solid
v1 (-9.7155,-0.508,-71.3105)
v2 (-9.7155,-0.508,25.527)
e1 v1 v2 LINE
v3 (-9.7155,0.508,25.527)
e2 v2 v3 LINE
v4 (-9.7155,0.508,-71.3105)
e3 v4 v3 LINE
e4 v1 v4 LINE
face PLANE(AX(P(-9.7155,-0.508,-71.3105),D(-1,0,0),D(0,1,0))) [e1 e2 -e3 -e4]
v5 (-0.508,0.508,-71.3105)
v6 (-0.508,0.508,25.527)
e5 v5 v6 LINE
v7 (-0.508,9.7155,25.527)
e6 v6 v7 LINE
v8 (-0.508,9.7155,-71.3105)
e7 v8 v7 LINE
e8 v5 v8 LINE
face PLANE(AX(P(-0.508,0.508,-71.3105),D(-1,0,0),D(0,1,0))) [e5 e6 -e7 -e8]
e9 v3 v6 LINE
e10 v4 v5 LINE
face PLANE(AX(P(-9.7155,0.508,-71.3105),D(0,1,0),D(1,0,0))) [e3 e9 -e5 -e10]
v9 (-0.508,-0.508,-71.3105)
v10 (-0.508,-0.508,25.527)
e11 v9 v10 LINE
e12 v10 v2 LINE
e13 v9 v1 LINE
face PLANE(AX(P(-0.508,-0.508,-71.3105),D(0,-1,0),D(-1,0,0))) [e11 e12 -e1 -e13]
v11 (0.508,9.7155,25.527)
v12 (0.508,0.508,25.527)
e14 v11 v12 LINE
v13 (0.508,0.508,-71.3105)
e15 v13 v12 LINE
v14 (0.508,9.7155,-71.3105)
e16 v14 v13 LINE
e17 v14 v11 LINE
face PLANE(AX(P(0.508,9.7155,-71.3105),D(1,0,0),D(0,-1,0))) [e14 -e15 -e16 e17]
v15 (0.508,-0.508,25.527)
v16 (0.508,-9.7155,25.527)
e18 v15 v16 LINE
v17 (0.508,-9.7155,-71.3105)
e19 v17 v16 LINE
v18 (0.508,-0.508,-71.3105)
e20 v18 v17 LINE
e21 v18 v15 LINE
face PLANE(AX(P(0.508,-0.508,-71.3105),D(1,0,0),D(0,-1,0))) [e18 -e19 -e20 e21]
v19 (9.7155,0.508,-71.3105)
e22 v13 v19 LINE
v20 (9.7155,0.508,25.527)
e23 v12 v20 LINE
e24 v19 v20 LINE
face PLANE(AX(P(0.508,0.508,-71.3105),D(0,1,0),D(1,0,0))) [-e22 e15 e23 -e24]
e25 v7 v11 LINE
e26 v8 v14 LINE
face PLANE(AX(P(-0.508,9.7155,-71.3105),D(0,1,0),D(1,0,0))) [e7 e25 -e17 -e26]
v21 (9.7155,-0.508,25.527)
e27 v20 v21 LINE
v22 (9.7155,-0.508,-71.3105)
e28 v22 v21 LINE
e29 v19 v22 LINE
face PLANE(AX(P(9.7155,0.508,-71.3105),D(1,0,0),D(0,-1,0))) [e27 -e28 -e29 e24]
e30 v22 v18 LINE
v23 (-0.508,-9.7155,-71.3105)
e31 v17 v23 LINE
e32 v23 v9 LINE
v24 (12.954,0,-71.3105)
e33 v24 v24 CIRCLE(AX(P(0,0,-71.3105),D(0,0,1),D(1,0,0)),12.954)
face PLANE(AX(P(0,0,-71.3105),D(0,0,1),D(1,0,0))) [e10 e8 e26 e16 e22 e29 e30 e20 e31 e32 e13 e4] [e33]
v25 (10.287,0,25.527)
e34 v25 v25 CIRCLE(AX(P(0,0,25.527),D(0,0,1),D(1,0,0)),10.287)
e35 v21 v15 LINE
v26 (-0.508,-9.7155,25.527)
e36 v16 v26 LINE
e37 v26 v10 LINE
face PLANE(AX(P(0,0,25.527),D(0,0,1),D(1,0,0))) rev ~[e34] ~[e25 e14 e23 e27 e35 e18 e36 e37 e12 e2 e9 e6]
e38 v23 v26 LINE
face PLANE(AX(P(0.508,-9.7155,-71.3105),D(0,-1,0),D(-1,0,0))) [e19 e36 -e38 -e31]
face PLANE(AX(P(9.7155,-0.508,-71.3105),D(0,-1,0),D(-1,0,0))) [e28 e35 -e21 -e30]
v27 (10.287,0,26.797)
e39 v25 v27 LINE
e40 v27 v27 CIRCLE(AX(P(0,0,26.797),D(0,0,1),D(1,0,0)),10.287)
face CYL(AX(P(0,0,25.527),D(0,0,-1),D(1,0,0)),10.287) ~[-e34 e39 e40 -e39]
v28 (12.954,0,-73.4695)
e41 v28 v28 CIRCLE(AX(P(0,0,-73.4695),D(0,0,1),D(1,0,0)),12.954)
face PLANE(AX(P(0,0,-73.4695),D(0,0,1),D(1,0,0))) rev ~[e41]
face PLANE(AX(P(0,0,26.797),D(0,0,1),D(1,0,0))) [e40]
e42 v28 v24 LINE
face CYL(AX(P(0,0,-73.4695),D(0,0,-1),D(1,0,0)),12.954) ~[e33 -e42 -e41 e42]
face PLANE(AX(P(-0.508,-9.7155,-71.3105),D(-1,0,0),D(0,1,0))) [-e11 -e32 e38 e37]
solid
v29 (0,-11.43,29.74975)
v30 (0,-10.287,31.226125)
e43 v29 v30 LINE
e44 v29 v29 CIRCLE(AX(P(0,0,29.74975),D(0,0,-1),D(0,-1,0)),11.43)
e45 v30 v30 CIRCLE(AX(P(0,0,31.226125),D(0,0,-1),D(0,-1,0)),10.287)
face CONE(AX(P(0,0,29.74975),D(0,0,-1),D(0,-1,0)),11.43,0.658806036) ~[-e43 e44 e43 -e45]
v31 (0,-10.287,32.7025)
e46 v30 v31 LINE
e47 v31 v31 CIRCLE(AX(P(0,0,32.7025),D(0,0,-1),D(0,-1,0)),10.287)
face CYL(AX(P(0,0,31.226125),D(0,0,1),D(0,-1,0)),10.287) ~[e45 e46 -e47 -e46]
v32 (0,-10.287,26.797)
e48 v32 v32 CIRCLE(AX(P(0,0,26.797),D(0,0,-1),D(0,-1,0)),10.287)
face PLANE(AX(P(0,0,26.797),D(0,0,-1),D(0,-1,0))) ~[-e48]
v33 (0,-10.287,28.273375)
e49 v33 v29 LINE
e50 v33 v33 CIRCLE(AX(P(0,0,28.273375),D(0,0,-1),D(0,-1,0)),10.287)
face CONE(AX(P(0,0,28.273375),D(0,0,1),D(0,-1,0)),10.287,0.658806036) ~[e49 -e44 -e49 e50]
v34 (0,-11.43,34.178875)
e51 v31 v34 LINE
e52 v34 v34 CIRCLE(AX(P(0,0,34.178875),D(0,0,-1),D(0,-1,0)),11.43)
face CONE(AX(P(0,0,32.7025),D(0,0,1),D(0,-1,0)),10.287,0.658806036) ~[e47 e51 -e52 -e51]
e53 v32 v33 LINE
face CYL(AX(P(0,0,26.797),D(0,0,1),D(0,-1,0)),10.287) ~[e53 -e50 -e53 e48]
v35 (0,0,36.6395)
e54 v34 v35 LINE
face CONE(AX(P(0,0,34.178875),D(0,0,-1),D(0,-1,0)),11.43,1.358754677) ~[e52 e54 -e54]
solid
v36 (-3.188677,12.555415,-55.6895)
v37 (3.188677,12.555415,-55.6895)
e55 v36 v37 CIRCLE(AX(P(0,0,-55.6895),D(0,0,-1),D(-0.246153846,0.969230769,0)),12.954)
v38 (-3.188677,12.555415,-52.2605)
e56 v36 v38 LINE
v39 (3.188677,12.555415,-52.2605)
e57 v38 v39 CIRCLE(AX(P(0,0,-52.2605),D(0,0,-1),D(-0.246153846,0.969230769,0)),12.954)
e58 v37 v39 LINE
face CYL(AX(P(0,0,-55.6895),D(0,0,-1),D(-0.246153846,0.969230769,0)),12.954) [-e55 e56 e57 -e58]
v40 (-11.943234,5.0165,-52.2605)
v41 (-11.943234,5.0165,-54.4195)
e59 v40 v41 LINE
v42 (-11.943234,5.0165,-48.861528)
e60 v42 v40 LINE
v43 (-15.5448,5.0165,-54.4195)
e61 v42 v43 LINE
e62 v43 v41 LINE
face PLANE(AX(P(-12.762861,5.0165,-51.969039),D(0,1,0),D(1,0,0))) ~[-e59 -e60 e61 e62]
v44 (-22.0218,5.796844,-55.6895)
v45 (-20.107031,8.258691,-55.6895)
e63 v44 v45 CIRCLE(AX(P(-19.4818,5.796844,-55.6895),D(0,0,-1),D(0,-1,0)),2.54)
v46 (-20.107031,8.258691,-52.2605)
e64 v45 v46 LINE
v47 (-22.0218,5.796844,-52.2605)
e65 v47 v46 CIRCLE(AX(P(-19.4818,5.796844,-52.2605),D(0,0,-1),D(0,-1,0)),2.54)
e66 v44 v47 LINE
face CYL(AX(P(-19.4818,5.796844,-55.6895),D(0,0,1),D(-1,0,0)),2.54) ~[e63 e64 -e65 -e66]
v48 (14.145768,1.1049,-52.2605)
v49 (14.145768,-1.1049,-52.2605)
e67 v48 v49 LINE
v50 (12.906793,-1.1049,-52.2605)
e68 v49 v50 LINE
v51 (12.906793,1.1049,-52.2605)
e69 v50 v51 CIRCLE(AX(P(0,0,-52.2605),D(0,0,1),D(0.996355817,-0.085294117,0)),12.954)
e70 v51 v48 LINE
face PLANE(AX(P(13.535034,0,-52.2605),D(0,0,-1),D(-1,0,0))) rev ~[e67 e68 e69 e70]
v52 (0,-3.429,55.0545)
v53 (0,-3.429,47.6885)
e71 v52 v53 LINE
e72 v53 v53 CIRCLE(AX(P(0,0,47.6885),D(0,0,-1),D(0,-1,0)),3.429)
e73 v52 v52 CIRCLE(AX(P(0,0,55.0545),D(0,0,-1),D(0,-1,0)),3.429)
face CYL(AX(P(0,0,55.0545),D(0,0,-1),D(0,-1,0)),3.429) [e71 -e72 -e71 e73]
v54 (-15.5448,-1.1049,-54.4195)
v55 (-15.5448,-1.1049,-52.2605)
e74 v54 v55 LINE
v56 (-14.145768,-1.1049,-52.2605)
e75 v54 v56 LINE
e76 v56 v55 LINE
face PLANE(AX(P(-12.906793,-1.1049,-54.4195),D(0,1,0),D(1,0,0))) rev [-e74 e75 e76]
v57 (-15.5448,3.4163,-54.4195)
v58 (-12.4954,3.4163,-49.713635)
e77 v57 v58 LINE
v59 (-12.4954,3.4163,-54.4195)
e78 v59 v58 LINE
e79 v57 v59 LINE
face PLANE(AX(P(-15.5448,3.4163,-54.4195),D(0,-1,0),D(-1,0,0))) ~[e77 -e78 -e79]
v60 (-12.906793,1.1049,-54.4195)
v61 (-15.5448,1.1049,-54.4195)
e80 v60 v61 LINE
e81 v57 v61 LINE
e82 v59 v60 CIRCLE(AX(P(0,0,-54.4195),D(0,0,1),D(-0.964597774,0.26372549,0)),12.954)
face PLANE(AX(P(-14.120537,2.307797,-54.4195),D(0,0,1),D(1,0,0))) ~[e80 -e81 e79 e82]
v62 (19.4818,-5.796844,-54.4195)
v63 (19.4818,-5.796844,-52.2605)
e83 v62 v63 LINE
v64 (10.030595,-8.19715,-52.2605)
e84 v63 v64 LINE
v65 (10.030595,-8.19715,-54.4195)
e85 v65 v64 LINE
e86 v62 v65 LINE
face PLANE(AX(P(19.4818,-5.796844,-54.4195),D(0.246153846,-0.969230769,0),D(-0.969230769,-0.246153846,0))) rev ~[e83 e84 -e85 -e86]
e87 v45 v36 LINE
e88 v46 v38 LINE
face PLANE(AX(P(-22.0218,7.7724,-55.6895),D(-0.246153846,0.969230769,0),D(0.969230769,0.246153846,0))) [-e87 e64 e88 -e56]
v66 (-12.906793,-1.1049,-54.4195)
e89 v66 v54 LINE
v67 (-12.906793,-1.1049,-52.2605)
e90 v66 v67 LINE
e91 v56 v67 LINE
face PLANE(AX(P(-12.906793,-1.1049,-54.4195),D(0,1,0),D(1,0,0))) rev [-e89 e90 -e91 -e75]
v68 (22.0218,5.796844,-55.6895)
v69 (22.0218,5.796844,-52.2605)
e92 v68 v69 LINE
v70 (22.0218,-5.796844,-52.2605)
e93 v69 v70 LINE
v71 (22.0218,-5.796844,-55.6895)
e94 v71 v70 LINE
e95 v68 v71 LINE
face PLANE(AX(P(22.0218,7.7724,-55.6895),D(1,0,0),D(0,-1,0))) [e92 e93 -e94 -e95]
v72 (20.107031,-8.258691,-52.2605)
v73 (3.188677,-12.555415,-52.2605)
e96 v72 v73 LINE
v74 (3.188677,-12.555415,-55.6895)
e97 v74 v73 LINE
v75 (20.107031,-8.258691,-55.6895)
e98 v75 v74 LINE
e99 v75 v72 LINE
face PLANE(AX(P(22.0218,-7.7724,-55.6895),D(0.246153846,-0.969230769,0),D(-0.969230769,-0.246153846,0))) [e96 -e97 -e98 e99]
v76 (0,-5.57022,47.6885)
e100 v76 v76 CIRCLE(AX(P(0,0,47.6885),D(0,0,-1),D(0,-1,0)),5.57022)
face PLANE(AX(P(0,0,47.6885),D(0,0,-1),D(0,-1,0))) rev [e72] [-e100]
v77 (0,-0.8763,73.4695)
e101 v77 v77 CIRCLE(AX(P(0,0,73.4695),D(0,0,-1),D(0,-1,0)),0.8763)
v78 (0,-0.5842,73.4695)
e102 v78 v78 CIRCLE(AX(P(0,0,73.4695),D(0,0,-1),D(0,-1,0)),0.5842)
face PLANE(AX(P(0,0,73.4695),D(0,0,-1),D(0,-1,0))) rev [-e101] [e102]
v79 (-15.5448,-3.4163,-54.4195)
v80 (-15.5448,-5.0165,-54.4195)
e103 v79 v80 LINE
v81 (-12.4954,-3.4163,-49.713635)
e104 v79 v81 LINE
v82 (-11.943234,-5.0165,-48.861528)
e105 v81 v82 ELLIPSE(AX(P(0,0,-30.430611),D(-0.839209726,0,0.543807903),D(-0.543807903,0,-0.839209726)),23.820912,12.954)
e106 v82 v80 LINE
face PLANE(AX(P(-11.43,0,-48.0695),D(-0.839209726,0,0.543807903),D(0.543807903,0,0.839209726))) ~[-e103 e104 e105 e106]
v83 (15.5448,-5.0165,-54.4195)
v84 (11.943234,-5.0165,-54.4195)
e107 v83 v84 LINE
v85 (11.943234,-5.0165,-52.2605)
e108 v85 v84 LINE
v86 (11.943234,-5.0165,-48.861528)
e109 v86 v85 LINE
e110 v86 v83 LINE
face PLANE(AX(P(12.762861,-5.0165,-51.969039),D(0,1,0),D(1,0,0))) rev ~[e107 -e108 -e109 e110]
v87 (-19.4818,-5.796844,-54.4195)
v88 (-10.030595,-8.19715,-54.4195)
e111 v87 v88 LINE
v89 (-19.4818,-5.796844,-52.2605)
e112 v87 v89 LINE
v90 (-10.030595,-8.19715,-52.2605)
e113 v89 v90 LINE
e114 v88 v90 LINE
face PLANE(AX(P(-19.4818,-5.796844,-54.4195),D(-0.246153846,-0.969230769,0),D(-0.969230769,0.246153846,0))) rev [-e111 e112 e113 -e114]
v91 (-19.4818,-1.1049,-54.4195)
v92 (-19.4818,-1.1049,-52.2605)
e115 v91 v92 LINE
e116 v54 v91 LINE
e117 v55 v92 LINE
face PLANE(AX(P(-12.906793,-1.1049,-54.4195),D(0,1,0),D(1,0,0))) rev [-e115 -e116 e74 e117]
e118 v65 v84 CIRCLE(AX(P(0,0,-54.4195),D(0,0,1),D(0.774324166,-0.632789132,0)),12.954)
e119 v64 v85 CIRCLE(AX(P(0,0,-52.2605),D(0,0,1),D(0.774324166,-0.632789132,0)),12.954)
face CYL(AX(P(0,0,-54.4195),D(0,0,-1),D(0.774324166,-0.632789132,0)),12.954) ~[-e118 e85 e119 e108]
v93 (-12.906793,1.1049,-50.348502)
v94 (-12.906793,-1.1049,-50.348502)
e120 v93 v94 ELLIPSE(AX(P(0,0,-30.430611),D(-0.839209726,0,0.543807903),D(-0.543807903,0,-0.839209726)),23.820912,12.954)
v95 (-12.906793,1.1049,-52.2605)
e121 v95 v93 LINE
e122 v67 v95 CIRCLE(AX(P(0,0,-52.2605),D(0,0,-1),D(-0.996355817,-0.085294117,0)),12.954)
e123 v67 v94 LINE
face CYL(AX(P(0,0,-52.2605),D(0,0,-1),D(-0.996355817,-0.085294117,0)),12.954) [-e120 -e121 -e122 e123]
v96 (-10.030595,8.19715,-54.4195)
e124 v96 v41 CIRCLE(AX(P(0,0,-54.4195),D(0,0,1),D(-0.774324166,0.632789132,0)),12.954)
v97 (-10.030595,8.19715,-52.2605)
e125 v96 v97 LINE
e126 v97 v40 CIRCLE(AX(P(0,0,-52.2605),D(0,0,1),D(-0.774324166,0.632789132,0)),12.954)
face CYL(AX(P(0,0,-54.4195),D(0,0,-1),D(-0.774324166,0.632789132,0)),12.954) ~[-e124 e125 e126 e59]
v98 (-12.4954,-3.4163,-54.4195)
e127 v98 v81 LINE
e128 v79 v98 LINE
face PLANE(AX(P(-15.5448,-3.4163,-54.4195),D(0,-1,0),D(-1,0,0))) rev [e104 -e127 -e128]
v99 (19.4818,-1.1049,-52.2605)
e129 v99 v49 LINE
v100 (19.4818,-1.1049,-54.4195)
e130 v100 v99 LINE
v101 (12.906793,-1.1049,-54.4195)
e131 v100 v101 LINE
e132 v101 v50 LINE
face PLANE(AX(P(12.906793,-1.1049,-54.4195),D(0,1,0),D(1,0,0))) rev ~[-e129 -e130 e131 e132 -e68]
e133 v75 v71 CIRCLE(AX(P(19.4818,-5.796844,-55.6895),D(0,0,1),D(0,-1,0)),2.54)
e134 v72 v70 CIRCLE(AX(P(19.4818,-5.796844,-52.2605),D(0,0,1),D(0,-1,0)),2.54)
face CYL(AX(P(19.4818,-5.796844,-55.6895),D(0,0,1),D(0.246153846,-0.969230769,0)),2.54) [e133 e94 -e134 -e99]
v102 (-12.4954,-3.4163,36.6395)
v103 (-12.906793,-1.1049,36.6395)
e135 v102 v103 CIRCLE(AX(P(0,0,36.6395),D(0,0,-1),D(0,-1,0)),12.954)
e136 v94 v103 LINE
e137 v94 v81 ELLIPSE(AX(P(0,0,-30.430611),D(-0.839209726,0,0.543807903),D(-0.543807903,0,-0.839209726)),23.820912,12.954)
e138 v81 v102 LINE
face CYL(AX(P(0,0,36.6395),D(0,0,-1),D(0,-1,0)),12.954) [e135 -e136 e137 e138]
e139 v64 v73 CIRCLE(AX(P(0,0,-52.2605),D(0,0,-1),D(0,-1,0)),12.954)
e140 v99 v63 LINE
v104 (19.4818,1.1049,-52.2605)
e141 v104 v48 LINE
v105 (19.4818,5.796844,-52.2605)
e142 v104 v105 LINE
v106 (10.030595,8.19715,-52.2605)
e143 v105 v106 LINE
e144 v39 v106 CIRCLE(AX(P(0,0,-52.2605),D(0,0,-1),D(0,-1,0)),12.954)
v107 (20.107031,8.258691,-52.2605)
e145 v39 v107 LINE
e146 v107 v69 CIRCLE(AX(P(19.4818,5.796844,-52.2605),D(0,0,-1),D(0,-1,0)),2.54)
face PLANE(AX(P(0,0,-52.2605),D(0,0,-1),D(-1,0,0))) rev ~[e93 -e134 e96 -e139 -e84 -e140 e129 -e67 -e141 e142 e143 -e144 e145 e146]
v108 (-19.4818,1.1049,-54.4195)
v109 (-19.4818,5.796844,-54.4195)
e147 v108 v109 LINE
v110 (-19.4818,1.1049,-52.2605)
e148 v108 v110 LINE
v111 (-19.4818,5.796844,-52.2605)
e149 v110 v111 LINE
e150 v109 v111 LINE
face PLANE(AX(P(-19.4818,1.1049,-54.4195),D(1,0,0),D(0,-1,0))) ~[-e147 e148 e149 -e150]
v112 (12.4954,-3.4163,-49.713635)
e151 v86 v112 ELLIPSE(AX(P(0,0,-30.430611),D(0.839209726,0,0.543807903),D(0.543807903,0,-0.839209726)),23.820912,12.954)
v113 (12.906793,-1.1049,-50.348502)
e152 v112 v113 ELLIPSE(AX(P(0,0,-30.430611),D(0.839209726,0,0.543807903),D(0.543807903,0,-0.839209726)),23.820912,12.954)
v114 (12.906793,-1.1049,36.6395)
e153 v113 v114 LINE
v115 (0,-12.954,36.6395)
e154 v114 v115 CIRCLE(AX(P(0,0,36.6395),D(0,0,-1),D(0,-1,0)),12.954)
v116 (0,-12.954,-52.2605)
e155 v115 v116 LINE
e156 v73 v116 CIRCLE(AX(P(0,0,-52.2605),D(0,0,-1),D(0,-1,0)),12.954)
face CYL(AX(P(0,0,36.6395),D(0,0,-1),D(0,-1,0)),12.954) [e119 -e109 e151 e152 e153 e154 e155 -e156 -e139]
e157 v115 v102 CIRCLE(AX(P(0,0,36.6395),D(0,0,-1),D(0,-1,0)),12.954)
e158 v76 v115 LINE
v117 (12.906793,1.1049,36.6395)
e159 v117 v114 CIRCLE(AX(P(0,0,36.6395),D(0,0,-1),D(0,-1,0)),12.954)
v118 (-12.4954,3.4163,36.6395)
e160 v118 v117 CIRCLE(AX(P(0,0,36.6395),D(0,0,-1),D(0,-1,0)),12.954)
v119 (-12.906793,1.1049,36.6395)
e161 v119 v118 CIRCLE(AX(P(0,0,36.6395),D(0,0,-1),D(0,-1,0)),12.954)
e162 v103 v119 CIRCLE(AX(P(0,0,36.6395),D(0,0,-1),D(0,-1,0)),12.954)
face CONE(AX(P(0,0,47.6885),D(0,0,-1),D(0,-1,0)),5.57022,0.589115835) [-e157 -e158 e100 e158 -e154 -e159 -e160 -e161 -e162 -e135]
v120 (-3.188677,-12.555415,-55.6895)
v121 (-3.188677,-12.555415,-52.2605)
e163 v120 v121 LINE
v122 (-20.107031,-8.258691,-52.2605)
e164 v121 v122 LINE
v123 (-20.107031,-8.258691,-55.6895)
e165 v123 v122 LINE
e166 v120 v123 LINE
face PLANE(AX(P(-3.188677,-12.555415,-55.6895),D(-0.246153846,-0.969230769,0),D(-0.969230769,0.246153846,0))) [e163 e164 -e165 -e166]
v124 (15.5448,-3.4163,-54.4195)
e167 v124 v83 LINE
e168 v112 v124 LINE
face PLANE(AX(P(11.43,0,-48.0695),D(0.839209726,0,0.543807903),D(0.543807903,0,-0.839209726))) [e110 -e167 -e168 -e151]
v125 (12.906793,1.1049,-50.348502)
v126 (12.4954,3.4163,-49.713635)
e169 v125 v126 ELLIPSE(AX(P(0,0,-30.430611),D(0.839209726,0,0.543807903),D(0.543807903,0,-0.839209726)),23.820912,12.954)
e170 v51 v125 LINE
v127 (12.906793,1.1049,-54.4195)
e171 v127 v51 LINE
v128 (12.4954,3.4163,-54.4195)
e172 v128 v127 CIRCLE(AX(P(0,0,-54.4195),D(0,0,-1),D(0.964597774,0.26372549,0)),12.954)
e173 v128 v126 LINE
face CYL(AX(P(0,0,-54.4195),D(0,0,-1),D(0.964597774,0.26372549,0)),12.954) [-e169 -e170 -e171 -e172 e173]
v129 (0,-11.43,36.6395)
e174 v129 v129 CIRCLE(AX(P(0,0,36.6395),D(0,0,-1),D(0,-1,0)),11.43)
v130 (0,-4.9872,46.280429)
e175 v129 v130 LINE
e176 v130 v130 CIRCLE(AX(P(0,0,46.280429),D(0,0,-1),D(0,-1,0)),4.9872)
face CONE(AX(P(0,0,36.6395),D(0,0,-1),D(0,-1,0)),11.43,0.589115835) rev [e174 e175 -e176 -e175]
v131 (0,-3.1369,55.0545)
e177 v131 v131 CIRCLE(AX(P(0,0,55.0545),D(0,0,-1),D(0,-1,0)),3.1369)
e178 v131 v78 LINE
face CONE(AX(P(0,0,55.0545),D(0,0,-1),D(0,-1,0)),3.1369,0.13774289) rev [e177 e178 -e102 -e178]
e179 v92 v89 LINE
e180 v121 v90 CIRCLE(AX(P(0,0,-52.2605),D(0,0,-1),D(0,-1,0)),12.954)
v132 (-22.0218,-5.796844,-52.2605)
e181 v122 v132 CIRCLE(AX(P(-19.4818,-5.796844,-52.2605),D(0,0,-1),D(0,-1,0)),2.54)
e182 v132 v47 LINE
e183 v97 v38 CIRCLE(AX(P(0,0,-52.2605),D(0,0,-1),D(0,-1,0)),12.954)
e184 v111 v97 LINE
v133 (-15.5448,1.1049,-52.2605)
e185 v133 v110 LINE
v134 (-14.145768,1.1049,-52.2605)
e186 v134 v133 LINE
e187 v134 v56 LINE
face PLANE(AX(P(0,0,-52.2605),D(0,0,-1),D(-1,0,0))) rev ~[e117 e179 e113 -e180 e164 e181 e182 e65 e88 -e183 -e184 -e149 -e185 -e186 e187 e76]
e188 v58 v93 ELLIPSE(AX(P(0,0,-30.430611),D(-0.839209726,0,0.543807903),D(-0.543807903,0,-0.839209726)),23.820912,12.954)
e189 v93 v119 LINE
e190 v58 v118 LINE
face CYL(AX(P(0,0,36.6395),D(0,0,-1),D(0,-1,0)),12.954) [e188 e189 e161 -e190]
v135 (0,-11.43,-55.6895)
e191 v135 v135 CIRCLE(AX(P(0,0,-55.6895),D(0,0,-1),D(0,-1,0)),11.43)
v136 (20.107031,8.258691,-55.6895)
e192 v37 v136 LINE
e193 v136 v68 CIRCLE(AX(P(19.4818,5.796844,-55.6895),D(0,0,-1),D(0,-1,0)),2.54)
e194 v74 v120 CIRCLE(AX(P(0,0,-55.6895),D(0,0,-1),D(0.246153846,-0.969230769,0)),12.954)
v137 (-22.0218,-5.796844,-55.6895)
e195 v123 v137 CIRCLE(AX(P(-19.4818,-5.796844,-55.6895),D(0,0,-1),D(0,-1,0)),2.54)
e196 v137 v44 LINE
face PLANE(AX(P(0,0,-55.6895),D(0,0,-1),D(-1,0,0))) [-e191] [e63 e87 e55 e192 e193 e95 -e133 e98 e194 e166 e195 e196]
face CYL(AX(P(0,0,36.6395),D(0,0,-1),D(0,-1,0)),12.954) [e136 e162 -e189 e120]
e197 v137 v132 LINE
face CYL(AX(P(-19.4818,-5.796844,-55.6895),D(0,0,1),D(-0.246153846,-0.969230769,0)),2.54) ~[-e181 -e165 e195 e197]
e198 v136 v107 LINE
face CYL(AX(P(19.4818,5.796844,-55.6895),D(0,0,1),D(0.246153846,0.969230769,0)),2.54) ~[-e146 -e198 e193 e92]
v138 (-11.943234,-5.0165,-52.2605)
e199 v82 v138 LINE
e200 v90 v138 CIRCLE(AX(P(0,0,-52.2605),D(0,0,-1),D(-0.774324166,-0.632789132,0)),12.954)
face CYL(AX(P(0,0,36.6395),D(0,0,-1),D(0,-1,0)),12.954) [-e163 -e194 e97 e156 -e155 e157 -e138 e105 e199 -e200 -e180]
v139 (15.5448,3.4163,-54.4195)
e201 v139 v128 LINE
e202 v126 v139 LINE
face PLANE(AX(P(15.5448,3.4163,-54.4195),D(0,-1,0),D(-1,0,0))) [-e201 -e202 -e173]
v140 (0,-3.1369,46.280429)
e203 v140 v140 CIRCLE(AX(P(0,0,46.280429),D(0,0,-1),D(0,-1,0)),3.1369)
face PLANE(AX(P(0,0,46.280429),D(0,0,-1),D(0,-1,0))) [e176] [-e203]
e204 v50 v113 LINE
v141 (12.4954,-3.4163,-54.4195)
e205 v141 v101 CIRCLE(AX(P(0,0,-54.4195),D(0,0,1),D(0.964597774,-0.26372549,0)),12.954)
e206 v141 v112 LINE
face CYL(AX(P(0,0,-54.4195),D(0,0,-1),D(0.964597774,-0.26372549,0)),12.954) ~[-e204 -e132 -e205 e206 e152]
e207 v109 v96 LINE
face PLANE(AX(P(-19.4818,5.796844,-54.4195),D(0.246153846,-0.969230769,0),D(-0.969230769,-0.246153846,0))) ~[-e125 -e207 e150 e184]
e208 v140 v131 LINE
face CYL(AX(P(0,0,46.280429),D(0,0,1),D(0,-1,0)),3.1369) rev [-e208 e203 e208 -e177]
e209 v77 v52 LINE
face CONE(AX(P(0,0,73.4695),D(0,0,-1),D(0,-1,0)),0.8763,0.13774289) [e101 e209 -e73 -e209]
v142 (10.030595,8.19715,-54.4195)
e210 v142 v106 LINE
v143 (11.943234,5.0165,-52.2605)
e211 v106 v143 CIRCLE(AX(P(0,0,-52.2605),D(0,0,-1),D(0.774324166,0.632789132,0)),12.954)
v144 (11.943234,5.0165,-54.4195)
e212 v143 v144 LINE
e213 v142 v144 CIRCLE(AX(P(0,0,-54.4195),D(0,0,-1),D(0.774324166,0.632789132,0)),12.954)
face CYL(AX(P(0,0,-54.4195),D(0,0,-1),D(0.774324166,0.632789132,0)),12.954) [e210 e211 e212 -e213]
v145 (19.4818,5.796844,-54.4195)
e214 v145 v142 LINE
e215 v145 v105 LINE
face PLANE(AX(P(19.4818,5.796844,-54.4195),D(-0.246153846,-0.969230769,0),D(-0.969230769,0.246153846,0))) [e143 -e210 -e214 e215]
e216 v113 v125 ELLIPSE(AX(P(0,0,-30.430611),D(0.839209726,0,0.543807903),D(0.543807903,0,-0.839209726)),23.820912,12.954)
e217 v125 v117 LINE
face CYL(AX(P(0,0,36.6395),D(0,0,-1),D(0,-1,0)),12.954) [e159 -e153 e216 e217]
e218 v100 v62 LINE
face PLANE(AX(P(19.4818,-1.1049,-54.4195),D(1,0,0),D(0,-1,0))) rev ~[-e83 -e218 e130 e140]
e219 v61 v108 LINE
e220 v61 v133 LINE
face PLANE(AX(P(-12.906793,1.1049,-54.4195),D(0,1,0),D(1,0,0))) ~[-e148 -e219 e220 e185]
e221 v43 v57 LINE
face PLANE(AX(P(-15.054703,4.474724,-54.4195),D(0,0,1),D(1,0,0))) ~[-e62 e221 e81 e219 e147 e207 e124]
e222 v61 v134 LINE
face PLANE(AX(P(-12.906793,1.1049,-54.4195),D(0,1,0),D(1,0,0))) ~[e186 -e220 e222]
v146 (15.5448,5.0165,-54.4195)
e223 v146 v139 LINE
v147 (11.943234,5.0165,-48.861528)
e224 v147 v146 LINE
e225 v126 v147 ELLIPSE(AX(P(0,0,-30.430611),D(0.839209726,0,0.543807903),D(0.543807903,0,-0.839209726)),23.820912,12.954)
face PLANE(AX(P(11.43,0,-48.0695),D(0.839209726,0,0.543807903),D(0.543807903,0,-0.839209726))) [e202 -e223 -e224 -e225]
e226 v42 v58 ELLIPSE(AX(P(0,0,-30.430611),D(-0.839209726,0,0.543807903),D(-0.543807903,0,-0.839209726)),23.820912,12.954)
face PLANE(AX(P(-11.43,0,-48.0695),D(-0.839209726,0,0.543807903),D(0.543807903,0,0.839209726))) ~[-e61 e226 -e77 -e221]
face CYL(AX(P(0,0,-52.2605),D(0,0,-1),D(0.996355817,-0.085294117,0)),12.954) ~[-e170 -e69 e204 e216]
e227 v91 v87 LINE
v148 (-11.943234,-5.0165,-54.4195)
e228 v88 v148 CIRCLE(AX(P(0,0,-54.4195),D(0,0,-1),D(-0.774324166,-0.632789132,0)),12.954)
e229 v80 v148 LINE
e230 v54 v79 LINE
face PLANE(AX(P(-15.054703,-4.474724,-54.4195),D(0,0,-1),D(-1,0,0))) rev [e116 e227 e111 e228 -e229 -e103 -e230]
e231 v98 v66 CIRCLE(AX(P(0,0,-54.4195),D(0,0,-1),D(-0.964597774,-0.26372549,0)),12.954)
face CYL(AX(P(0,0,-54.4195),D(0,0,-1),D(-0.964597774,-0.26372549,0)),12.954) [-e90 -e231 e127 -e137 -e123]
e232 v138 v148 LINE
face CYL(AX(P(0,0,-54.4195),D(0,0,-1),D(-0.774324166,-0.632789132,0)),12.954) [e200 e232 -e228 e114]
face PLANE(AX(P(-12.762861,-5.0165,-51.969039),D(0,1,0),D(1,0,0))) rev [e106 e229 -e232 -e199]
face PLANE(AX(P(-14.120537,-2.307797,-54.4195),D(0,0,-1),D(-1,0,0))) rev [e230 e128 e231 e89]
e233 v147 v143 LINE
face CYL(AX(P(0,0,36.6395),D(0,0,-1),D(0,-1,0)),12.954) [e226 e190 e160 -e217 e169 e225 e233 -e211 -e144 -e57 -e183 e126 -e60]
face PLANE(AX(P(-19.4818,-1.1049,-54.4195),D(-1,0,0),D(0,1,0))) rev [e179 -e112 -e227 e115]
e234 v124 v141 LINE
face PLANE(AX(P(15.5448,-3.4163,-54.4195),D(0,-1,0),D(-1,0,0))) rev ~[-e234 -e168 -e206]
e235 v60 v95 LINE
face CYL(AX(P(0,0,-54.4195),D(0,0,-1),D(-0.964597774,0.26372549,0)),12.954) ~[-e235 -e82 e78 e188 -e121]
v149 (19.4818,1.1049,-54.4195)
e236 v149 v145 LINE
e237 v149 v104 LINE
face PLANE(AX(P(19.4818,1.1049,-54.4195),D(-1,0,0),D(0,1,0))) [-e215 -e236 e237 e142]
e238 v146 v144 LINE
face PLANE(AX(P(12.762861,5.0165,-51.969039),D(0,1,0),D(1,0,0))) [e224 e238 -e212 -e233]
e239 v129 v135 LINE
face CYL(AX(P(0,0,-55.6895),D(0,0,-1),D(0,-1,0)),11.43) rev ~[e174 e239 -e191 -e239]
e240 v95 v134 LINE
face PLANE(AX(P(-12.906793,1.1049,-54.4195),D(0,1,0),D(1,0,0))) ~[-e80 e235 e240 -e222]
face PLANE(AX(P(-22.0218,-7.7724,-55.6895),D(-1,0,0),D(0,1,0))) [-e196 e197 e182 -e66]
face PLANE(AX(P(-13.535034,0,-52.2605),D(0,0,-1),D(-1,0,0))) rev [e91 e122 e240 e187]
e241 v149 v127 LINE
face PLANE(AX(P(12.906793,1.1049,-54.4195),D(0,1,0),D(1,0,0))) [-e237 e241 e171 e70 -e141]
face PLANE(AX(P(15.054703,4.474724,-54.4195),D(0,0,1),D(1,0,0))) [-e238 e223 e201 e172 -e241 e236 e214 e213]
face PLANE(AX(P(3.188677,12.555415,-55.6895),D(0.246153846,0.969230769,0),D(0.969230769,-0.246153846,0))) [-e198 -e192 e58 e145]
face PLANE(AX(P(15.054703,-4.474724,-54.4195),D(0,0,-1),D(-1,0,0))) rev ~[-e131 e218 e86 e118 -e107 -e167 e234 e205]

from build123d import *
from build123d.topology import SkipClean

# Parameters (mm, degrees)
BOSS_EXTRUDE1_START = 3.429
SKETCH3_R           = 11.43
BOSS_EXTRUDE1_DEPTH = 3.429
FILLET1_R           = 2.54
SKETCH5_R           = 12.954
BOSS_EXTRUDE2_DEPTH = 2.159
BOSS_EXTRUDE3_DEPTH = 96.8375
SKETCH7_R           = 10.287
BOSS_EXTRUDE4_DEPTH = 1.27
CUT_EXTRUDE1_START  = -2.159
CUT_EXTRUDE1_DEPTH  = 2.159
BOSS_EXTRUDE5_DEPTH = 5.0165
CUT_EXTRUDE2_DEPTH  = 131.416111398
CUT_EXTRUDE3_DEPTH  = 129.299644159


with BuildPart() as part:
    # Sketch2 → Revolve1 (revolve)
    with BuildSketch(Plane(origin=(0, 0, 0), x_dir=(0, 0, -1), z_dir=(1, 0, 0)), mode=Mode.PRIVATE) as revolve1_sk:
        Polygon((52.2605, 11.43), (-36.6395, 11.43), (-46.280429208, 4.987199723), (-46.280429208, 3.1369), (-55.0545, 3.1369), (-73.4695, 0.5842), (-73.4695, 0.8763), (-55.0545, 3.429), (-47.6885, 3.429), (-47.6885, 5.57022), (-36.6395, 12.954), (52.2605, 12.954), align=None)
    revolve(revolve1_sk.sketch.rotate(Axis((0, 0, 73.4695), (0, 0, -1)), 180), axis=Axis((0, 0, 73.4695), (0, 0, -1)))

    # Sketch3 → Boss-Extrude1 (add)
    with BuildSketch(Plane(origin=(0, 0, -52.2605), x_dir=(-1, 0, 0), z_dir=(0, 0, -1)).offset(BOSS_EXTRUDE1_START)):
        with BuildLine():
            Line((-3.188676923, 12.555415385), (-22.0218, 7.7724))
            Line((-22.0218, 7.7724), (-22.0218, -7.7724))
            Line((-22.0218, -7.7724), (-3.188676923, -12.555415385))
            ThreePointArc((-3.188676923, -12.555415385), (0, -12.954), (3.188676923, -12.555415385))
            Line((3.188676923, -12.555415385), (22.0218, -7.7724))
            Line((22.0218, -7.7724), (22.0218, 7.7724))
            Line((22.0218, 7.7724), (3.188676923, 12.555415385))
            ThreePointArc((3.188676923, 12.555415385), (0, 12.954), (-3.188676923, 12.555415385))
        make_face()
        with Locations(Location((0, 0, 0), (0, 0, 270))):
            Circle(SKETCH3_R, mode=Mode.SUBTRACT)
    extrude(amount=-BOSS_EXTRUDE1_DEPTH)

    # Fillet1
    fillet1_edges = [part.edges().sort_by_distance(p)[0] for p in [
        (22.0218, 7.7724, -53.975),
        (22.0218, -7.7724, -53.975),
        (-22.0218, -7.7724, -53.975),
        (-22.0218, 7.7724, -53.975),
    ]]
    fillet(fillet1_edges, radius=FILLET1_R)

    # Sketch12 → Cut-Extrude1 (cut)
    with BuildSketch(Plane.XY.offset(-52.2605).offset(CUT_EXTRUDE1_START)):
        with BuildLine():
            Line((19.4818, 5.796844444), (10.030595253, 8.197150412))
            ThreePointArc((10.030595253, 8.197150412), (12.004413847, 4.868281442), (12.90679325, 1.1049))
            Line((12.90679325, 1.1049), (19.4818, 1.1049))
            Line((19.4818, 1.1049), (19.4818, 5.796844444))
        make_face()
        with BuildLine():
            Line((19.4818, -5.796844444), (10.030595253, -8.197150412))
            ThreePointArc((10.030595253, -8.197150412), (12.004413847, -4.868281442), (12.90679325, -1.1049))
            Line((12.90679325, -1.1049), (19.4818, -1.1049))
            Line((19.4818, -1.1049), (19.4818, -5.796844444))
        make_face()
    cut_extrude1 = extrude(amount=CUT_EXTRUDE1_DEPTH, mode=Mode.SUBTRACT)

    # Sketch14 → Boss-Extrude5 (add, symmetric)
    with BuildSketch(Plane(origin=(0, 0, 0), x_dir=(1, 0, 0), z_dir=(0, 1, 0))):
        Polygon((11.43, 54.4195), (11.43, 48.0695), (15.5448, 54.4195), align=None)
    boss_extrude5 = extrude(amount=BOSS_EXTRUDE5_DEPTH, both=True)

    # Sketch15 → Cut-Extrude2 (cut, through all)
    with BuildSketch(Plane.XY.offset(-54.4195)):
        with BuildLine():
            Line((15.5448, 3.4163), (12.495399566, 3.4163))
            ThreePointArc((12.495399566, 3.4163), (12.753567832, 2.269939107), (12.90679325, 1.1049))
            Line((12.90679325, 1.1049), (14.145768, 1.1049))
            Line((14.145768, 1.1049), (15.5448, 1.1049))
            Line((15.5448, 1.1049), (15.5448, 3.4163))
        make_face()
        with BuildLine():
            Line((15.5448, -3.4163), (12.495399566, -3.4163))
            ThreePointArc((12.495399566, -3.4163), (12.753567832, -2.269939107), (12.90679325, -1.1049))
            Line((12.90679325, -1.1049), (14.145768, -1.1049))
            Line((14.145768, -1.1049), (15.5448, -1.1049))
            Line((15.5448, -1.1049), (15.5448, -3.4163))
        make_face()
    cut_extrude2 = extrude(amount=CUT_EXTRUDE2_DEPTH, mode=Mode.SUBTRACT)

    # Sketch16 → Cut-Extrude3 (cut, through all)
    with BuildSketch(Plane.XY.offset(-52.2605)):
        with BuildLine():
            Line((14.145768, -1.1049), (12.90679325, -1.1049))
            ThreePointArc((12.90679325, -1.1049), (12.954, 0), (12.90679325, 1.1049))
            Line((12.90679325, 1.1049), (14.145768, 1.1049))
            Line((14.145768, 1.1049), (14.145768, -1.1049))
        make_face()
    cut_extrude3 = extrude(amount=CUT_EXTRUDE3_DEPTH, mode=Mode.SUBTRACT)

    # Mirror1: Cut-Extrude1, Boss-Extrude5, Cut-Extrude2, Cut-Extrude3 across plane
    with SkipClean():  # the faces are left unmerged after this step: merging them gives an invalid solid
        add(cut_extrude1.mirror(Plane(origin=(0, 0, 0), x_dir=(0, 0, 1), z_dir=(1, 0, 0))), mode=Mode.SUBTRACT)
        add(boss_extrude5.mirror(Plane(origin=(0, 0, 0), x_dir=(0, 0, 1), z_dir=(1, 0, 0))))
        add(cut_extrude2.mirror(Plane(origin=(0, 0, 0), x_dir=(0, 0, 1), z_dir=(1, 0, 0))), mode=Mode.SUBTRACT)
        add(cut_extrude3.mirror(Plane(origin=(0, 0, 0), x_dir=(0, 0, 1), z_dir=(1, 0, 0))), mode=Mode.SUBTRACT)


with BuildPart() as body_2:
    # Sketch5 → Boss-Extrude2 (new body)
    with BuildSketch(Plane.XY.offset(-73.4695)):
        Circle(SKETCH5_R)
    extrude(amount=BOSS_EXTRUDE2_DEPTH)

    # Sketch6 → Boss-Extrude3 (add)
    with BuildSketch(Plane.XY.offset(-71.3105)):
        Polygon((-0.508, 9.7155), (0.508, 9.7155), (0.508, 0.508), (9.7155, 0.508), (9.7155, -0.508), (0.508, -0.508), (0.508, -9.7155), (-0.508, -9.7155), (-0.508, -0.508), (-9.7155, -0.508), (-9.7155, 0.508), (-0.508, 0.508), align=None)
    extrude(amount=BOSS_EXTRUDE3_DEPTH)

    # Sketch7 → Boss-Extrude4 (add)
    with BuildSketch(Plane.XY.offset(25.527)):
        Circle(SKETCH7_R)
    extrude(amount=BOSS_EXTRUDE4_DEPTH)


with BuildPart() as body_3:
    # Sketch8 → Revolve2 (revolve)
    with BuildSketch(Plane(origin=(0, 0, 0), x_dir=(0, 0, -1), z_dir=(1, 0, 0)), mode=Mode.PRIVATE) as revolve2_sk:
        Polygon((-36.6395, 0), (-26.797, 0), (-26.797, 10.287), (-28.273375, 10.287), (-29.74975, 11.43), (-31.226125, 10.287), (-32.7025, 10.287), (-34.178875, 11.43), align=None)
    revolve(revolve2_sk.sketch.rotate(Axis((0, 0, 73.4695), (0, 0, -1)), 180), axis=Axis((0, 0, 73.4695), (0, 0, -1)))


solid = Compound([part.part, body_2.part, body_3.part])
